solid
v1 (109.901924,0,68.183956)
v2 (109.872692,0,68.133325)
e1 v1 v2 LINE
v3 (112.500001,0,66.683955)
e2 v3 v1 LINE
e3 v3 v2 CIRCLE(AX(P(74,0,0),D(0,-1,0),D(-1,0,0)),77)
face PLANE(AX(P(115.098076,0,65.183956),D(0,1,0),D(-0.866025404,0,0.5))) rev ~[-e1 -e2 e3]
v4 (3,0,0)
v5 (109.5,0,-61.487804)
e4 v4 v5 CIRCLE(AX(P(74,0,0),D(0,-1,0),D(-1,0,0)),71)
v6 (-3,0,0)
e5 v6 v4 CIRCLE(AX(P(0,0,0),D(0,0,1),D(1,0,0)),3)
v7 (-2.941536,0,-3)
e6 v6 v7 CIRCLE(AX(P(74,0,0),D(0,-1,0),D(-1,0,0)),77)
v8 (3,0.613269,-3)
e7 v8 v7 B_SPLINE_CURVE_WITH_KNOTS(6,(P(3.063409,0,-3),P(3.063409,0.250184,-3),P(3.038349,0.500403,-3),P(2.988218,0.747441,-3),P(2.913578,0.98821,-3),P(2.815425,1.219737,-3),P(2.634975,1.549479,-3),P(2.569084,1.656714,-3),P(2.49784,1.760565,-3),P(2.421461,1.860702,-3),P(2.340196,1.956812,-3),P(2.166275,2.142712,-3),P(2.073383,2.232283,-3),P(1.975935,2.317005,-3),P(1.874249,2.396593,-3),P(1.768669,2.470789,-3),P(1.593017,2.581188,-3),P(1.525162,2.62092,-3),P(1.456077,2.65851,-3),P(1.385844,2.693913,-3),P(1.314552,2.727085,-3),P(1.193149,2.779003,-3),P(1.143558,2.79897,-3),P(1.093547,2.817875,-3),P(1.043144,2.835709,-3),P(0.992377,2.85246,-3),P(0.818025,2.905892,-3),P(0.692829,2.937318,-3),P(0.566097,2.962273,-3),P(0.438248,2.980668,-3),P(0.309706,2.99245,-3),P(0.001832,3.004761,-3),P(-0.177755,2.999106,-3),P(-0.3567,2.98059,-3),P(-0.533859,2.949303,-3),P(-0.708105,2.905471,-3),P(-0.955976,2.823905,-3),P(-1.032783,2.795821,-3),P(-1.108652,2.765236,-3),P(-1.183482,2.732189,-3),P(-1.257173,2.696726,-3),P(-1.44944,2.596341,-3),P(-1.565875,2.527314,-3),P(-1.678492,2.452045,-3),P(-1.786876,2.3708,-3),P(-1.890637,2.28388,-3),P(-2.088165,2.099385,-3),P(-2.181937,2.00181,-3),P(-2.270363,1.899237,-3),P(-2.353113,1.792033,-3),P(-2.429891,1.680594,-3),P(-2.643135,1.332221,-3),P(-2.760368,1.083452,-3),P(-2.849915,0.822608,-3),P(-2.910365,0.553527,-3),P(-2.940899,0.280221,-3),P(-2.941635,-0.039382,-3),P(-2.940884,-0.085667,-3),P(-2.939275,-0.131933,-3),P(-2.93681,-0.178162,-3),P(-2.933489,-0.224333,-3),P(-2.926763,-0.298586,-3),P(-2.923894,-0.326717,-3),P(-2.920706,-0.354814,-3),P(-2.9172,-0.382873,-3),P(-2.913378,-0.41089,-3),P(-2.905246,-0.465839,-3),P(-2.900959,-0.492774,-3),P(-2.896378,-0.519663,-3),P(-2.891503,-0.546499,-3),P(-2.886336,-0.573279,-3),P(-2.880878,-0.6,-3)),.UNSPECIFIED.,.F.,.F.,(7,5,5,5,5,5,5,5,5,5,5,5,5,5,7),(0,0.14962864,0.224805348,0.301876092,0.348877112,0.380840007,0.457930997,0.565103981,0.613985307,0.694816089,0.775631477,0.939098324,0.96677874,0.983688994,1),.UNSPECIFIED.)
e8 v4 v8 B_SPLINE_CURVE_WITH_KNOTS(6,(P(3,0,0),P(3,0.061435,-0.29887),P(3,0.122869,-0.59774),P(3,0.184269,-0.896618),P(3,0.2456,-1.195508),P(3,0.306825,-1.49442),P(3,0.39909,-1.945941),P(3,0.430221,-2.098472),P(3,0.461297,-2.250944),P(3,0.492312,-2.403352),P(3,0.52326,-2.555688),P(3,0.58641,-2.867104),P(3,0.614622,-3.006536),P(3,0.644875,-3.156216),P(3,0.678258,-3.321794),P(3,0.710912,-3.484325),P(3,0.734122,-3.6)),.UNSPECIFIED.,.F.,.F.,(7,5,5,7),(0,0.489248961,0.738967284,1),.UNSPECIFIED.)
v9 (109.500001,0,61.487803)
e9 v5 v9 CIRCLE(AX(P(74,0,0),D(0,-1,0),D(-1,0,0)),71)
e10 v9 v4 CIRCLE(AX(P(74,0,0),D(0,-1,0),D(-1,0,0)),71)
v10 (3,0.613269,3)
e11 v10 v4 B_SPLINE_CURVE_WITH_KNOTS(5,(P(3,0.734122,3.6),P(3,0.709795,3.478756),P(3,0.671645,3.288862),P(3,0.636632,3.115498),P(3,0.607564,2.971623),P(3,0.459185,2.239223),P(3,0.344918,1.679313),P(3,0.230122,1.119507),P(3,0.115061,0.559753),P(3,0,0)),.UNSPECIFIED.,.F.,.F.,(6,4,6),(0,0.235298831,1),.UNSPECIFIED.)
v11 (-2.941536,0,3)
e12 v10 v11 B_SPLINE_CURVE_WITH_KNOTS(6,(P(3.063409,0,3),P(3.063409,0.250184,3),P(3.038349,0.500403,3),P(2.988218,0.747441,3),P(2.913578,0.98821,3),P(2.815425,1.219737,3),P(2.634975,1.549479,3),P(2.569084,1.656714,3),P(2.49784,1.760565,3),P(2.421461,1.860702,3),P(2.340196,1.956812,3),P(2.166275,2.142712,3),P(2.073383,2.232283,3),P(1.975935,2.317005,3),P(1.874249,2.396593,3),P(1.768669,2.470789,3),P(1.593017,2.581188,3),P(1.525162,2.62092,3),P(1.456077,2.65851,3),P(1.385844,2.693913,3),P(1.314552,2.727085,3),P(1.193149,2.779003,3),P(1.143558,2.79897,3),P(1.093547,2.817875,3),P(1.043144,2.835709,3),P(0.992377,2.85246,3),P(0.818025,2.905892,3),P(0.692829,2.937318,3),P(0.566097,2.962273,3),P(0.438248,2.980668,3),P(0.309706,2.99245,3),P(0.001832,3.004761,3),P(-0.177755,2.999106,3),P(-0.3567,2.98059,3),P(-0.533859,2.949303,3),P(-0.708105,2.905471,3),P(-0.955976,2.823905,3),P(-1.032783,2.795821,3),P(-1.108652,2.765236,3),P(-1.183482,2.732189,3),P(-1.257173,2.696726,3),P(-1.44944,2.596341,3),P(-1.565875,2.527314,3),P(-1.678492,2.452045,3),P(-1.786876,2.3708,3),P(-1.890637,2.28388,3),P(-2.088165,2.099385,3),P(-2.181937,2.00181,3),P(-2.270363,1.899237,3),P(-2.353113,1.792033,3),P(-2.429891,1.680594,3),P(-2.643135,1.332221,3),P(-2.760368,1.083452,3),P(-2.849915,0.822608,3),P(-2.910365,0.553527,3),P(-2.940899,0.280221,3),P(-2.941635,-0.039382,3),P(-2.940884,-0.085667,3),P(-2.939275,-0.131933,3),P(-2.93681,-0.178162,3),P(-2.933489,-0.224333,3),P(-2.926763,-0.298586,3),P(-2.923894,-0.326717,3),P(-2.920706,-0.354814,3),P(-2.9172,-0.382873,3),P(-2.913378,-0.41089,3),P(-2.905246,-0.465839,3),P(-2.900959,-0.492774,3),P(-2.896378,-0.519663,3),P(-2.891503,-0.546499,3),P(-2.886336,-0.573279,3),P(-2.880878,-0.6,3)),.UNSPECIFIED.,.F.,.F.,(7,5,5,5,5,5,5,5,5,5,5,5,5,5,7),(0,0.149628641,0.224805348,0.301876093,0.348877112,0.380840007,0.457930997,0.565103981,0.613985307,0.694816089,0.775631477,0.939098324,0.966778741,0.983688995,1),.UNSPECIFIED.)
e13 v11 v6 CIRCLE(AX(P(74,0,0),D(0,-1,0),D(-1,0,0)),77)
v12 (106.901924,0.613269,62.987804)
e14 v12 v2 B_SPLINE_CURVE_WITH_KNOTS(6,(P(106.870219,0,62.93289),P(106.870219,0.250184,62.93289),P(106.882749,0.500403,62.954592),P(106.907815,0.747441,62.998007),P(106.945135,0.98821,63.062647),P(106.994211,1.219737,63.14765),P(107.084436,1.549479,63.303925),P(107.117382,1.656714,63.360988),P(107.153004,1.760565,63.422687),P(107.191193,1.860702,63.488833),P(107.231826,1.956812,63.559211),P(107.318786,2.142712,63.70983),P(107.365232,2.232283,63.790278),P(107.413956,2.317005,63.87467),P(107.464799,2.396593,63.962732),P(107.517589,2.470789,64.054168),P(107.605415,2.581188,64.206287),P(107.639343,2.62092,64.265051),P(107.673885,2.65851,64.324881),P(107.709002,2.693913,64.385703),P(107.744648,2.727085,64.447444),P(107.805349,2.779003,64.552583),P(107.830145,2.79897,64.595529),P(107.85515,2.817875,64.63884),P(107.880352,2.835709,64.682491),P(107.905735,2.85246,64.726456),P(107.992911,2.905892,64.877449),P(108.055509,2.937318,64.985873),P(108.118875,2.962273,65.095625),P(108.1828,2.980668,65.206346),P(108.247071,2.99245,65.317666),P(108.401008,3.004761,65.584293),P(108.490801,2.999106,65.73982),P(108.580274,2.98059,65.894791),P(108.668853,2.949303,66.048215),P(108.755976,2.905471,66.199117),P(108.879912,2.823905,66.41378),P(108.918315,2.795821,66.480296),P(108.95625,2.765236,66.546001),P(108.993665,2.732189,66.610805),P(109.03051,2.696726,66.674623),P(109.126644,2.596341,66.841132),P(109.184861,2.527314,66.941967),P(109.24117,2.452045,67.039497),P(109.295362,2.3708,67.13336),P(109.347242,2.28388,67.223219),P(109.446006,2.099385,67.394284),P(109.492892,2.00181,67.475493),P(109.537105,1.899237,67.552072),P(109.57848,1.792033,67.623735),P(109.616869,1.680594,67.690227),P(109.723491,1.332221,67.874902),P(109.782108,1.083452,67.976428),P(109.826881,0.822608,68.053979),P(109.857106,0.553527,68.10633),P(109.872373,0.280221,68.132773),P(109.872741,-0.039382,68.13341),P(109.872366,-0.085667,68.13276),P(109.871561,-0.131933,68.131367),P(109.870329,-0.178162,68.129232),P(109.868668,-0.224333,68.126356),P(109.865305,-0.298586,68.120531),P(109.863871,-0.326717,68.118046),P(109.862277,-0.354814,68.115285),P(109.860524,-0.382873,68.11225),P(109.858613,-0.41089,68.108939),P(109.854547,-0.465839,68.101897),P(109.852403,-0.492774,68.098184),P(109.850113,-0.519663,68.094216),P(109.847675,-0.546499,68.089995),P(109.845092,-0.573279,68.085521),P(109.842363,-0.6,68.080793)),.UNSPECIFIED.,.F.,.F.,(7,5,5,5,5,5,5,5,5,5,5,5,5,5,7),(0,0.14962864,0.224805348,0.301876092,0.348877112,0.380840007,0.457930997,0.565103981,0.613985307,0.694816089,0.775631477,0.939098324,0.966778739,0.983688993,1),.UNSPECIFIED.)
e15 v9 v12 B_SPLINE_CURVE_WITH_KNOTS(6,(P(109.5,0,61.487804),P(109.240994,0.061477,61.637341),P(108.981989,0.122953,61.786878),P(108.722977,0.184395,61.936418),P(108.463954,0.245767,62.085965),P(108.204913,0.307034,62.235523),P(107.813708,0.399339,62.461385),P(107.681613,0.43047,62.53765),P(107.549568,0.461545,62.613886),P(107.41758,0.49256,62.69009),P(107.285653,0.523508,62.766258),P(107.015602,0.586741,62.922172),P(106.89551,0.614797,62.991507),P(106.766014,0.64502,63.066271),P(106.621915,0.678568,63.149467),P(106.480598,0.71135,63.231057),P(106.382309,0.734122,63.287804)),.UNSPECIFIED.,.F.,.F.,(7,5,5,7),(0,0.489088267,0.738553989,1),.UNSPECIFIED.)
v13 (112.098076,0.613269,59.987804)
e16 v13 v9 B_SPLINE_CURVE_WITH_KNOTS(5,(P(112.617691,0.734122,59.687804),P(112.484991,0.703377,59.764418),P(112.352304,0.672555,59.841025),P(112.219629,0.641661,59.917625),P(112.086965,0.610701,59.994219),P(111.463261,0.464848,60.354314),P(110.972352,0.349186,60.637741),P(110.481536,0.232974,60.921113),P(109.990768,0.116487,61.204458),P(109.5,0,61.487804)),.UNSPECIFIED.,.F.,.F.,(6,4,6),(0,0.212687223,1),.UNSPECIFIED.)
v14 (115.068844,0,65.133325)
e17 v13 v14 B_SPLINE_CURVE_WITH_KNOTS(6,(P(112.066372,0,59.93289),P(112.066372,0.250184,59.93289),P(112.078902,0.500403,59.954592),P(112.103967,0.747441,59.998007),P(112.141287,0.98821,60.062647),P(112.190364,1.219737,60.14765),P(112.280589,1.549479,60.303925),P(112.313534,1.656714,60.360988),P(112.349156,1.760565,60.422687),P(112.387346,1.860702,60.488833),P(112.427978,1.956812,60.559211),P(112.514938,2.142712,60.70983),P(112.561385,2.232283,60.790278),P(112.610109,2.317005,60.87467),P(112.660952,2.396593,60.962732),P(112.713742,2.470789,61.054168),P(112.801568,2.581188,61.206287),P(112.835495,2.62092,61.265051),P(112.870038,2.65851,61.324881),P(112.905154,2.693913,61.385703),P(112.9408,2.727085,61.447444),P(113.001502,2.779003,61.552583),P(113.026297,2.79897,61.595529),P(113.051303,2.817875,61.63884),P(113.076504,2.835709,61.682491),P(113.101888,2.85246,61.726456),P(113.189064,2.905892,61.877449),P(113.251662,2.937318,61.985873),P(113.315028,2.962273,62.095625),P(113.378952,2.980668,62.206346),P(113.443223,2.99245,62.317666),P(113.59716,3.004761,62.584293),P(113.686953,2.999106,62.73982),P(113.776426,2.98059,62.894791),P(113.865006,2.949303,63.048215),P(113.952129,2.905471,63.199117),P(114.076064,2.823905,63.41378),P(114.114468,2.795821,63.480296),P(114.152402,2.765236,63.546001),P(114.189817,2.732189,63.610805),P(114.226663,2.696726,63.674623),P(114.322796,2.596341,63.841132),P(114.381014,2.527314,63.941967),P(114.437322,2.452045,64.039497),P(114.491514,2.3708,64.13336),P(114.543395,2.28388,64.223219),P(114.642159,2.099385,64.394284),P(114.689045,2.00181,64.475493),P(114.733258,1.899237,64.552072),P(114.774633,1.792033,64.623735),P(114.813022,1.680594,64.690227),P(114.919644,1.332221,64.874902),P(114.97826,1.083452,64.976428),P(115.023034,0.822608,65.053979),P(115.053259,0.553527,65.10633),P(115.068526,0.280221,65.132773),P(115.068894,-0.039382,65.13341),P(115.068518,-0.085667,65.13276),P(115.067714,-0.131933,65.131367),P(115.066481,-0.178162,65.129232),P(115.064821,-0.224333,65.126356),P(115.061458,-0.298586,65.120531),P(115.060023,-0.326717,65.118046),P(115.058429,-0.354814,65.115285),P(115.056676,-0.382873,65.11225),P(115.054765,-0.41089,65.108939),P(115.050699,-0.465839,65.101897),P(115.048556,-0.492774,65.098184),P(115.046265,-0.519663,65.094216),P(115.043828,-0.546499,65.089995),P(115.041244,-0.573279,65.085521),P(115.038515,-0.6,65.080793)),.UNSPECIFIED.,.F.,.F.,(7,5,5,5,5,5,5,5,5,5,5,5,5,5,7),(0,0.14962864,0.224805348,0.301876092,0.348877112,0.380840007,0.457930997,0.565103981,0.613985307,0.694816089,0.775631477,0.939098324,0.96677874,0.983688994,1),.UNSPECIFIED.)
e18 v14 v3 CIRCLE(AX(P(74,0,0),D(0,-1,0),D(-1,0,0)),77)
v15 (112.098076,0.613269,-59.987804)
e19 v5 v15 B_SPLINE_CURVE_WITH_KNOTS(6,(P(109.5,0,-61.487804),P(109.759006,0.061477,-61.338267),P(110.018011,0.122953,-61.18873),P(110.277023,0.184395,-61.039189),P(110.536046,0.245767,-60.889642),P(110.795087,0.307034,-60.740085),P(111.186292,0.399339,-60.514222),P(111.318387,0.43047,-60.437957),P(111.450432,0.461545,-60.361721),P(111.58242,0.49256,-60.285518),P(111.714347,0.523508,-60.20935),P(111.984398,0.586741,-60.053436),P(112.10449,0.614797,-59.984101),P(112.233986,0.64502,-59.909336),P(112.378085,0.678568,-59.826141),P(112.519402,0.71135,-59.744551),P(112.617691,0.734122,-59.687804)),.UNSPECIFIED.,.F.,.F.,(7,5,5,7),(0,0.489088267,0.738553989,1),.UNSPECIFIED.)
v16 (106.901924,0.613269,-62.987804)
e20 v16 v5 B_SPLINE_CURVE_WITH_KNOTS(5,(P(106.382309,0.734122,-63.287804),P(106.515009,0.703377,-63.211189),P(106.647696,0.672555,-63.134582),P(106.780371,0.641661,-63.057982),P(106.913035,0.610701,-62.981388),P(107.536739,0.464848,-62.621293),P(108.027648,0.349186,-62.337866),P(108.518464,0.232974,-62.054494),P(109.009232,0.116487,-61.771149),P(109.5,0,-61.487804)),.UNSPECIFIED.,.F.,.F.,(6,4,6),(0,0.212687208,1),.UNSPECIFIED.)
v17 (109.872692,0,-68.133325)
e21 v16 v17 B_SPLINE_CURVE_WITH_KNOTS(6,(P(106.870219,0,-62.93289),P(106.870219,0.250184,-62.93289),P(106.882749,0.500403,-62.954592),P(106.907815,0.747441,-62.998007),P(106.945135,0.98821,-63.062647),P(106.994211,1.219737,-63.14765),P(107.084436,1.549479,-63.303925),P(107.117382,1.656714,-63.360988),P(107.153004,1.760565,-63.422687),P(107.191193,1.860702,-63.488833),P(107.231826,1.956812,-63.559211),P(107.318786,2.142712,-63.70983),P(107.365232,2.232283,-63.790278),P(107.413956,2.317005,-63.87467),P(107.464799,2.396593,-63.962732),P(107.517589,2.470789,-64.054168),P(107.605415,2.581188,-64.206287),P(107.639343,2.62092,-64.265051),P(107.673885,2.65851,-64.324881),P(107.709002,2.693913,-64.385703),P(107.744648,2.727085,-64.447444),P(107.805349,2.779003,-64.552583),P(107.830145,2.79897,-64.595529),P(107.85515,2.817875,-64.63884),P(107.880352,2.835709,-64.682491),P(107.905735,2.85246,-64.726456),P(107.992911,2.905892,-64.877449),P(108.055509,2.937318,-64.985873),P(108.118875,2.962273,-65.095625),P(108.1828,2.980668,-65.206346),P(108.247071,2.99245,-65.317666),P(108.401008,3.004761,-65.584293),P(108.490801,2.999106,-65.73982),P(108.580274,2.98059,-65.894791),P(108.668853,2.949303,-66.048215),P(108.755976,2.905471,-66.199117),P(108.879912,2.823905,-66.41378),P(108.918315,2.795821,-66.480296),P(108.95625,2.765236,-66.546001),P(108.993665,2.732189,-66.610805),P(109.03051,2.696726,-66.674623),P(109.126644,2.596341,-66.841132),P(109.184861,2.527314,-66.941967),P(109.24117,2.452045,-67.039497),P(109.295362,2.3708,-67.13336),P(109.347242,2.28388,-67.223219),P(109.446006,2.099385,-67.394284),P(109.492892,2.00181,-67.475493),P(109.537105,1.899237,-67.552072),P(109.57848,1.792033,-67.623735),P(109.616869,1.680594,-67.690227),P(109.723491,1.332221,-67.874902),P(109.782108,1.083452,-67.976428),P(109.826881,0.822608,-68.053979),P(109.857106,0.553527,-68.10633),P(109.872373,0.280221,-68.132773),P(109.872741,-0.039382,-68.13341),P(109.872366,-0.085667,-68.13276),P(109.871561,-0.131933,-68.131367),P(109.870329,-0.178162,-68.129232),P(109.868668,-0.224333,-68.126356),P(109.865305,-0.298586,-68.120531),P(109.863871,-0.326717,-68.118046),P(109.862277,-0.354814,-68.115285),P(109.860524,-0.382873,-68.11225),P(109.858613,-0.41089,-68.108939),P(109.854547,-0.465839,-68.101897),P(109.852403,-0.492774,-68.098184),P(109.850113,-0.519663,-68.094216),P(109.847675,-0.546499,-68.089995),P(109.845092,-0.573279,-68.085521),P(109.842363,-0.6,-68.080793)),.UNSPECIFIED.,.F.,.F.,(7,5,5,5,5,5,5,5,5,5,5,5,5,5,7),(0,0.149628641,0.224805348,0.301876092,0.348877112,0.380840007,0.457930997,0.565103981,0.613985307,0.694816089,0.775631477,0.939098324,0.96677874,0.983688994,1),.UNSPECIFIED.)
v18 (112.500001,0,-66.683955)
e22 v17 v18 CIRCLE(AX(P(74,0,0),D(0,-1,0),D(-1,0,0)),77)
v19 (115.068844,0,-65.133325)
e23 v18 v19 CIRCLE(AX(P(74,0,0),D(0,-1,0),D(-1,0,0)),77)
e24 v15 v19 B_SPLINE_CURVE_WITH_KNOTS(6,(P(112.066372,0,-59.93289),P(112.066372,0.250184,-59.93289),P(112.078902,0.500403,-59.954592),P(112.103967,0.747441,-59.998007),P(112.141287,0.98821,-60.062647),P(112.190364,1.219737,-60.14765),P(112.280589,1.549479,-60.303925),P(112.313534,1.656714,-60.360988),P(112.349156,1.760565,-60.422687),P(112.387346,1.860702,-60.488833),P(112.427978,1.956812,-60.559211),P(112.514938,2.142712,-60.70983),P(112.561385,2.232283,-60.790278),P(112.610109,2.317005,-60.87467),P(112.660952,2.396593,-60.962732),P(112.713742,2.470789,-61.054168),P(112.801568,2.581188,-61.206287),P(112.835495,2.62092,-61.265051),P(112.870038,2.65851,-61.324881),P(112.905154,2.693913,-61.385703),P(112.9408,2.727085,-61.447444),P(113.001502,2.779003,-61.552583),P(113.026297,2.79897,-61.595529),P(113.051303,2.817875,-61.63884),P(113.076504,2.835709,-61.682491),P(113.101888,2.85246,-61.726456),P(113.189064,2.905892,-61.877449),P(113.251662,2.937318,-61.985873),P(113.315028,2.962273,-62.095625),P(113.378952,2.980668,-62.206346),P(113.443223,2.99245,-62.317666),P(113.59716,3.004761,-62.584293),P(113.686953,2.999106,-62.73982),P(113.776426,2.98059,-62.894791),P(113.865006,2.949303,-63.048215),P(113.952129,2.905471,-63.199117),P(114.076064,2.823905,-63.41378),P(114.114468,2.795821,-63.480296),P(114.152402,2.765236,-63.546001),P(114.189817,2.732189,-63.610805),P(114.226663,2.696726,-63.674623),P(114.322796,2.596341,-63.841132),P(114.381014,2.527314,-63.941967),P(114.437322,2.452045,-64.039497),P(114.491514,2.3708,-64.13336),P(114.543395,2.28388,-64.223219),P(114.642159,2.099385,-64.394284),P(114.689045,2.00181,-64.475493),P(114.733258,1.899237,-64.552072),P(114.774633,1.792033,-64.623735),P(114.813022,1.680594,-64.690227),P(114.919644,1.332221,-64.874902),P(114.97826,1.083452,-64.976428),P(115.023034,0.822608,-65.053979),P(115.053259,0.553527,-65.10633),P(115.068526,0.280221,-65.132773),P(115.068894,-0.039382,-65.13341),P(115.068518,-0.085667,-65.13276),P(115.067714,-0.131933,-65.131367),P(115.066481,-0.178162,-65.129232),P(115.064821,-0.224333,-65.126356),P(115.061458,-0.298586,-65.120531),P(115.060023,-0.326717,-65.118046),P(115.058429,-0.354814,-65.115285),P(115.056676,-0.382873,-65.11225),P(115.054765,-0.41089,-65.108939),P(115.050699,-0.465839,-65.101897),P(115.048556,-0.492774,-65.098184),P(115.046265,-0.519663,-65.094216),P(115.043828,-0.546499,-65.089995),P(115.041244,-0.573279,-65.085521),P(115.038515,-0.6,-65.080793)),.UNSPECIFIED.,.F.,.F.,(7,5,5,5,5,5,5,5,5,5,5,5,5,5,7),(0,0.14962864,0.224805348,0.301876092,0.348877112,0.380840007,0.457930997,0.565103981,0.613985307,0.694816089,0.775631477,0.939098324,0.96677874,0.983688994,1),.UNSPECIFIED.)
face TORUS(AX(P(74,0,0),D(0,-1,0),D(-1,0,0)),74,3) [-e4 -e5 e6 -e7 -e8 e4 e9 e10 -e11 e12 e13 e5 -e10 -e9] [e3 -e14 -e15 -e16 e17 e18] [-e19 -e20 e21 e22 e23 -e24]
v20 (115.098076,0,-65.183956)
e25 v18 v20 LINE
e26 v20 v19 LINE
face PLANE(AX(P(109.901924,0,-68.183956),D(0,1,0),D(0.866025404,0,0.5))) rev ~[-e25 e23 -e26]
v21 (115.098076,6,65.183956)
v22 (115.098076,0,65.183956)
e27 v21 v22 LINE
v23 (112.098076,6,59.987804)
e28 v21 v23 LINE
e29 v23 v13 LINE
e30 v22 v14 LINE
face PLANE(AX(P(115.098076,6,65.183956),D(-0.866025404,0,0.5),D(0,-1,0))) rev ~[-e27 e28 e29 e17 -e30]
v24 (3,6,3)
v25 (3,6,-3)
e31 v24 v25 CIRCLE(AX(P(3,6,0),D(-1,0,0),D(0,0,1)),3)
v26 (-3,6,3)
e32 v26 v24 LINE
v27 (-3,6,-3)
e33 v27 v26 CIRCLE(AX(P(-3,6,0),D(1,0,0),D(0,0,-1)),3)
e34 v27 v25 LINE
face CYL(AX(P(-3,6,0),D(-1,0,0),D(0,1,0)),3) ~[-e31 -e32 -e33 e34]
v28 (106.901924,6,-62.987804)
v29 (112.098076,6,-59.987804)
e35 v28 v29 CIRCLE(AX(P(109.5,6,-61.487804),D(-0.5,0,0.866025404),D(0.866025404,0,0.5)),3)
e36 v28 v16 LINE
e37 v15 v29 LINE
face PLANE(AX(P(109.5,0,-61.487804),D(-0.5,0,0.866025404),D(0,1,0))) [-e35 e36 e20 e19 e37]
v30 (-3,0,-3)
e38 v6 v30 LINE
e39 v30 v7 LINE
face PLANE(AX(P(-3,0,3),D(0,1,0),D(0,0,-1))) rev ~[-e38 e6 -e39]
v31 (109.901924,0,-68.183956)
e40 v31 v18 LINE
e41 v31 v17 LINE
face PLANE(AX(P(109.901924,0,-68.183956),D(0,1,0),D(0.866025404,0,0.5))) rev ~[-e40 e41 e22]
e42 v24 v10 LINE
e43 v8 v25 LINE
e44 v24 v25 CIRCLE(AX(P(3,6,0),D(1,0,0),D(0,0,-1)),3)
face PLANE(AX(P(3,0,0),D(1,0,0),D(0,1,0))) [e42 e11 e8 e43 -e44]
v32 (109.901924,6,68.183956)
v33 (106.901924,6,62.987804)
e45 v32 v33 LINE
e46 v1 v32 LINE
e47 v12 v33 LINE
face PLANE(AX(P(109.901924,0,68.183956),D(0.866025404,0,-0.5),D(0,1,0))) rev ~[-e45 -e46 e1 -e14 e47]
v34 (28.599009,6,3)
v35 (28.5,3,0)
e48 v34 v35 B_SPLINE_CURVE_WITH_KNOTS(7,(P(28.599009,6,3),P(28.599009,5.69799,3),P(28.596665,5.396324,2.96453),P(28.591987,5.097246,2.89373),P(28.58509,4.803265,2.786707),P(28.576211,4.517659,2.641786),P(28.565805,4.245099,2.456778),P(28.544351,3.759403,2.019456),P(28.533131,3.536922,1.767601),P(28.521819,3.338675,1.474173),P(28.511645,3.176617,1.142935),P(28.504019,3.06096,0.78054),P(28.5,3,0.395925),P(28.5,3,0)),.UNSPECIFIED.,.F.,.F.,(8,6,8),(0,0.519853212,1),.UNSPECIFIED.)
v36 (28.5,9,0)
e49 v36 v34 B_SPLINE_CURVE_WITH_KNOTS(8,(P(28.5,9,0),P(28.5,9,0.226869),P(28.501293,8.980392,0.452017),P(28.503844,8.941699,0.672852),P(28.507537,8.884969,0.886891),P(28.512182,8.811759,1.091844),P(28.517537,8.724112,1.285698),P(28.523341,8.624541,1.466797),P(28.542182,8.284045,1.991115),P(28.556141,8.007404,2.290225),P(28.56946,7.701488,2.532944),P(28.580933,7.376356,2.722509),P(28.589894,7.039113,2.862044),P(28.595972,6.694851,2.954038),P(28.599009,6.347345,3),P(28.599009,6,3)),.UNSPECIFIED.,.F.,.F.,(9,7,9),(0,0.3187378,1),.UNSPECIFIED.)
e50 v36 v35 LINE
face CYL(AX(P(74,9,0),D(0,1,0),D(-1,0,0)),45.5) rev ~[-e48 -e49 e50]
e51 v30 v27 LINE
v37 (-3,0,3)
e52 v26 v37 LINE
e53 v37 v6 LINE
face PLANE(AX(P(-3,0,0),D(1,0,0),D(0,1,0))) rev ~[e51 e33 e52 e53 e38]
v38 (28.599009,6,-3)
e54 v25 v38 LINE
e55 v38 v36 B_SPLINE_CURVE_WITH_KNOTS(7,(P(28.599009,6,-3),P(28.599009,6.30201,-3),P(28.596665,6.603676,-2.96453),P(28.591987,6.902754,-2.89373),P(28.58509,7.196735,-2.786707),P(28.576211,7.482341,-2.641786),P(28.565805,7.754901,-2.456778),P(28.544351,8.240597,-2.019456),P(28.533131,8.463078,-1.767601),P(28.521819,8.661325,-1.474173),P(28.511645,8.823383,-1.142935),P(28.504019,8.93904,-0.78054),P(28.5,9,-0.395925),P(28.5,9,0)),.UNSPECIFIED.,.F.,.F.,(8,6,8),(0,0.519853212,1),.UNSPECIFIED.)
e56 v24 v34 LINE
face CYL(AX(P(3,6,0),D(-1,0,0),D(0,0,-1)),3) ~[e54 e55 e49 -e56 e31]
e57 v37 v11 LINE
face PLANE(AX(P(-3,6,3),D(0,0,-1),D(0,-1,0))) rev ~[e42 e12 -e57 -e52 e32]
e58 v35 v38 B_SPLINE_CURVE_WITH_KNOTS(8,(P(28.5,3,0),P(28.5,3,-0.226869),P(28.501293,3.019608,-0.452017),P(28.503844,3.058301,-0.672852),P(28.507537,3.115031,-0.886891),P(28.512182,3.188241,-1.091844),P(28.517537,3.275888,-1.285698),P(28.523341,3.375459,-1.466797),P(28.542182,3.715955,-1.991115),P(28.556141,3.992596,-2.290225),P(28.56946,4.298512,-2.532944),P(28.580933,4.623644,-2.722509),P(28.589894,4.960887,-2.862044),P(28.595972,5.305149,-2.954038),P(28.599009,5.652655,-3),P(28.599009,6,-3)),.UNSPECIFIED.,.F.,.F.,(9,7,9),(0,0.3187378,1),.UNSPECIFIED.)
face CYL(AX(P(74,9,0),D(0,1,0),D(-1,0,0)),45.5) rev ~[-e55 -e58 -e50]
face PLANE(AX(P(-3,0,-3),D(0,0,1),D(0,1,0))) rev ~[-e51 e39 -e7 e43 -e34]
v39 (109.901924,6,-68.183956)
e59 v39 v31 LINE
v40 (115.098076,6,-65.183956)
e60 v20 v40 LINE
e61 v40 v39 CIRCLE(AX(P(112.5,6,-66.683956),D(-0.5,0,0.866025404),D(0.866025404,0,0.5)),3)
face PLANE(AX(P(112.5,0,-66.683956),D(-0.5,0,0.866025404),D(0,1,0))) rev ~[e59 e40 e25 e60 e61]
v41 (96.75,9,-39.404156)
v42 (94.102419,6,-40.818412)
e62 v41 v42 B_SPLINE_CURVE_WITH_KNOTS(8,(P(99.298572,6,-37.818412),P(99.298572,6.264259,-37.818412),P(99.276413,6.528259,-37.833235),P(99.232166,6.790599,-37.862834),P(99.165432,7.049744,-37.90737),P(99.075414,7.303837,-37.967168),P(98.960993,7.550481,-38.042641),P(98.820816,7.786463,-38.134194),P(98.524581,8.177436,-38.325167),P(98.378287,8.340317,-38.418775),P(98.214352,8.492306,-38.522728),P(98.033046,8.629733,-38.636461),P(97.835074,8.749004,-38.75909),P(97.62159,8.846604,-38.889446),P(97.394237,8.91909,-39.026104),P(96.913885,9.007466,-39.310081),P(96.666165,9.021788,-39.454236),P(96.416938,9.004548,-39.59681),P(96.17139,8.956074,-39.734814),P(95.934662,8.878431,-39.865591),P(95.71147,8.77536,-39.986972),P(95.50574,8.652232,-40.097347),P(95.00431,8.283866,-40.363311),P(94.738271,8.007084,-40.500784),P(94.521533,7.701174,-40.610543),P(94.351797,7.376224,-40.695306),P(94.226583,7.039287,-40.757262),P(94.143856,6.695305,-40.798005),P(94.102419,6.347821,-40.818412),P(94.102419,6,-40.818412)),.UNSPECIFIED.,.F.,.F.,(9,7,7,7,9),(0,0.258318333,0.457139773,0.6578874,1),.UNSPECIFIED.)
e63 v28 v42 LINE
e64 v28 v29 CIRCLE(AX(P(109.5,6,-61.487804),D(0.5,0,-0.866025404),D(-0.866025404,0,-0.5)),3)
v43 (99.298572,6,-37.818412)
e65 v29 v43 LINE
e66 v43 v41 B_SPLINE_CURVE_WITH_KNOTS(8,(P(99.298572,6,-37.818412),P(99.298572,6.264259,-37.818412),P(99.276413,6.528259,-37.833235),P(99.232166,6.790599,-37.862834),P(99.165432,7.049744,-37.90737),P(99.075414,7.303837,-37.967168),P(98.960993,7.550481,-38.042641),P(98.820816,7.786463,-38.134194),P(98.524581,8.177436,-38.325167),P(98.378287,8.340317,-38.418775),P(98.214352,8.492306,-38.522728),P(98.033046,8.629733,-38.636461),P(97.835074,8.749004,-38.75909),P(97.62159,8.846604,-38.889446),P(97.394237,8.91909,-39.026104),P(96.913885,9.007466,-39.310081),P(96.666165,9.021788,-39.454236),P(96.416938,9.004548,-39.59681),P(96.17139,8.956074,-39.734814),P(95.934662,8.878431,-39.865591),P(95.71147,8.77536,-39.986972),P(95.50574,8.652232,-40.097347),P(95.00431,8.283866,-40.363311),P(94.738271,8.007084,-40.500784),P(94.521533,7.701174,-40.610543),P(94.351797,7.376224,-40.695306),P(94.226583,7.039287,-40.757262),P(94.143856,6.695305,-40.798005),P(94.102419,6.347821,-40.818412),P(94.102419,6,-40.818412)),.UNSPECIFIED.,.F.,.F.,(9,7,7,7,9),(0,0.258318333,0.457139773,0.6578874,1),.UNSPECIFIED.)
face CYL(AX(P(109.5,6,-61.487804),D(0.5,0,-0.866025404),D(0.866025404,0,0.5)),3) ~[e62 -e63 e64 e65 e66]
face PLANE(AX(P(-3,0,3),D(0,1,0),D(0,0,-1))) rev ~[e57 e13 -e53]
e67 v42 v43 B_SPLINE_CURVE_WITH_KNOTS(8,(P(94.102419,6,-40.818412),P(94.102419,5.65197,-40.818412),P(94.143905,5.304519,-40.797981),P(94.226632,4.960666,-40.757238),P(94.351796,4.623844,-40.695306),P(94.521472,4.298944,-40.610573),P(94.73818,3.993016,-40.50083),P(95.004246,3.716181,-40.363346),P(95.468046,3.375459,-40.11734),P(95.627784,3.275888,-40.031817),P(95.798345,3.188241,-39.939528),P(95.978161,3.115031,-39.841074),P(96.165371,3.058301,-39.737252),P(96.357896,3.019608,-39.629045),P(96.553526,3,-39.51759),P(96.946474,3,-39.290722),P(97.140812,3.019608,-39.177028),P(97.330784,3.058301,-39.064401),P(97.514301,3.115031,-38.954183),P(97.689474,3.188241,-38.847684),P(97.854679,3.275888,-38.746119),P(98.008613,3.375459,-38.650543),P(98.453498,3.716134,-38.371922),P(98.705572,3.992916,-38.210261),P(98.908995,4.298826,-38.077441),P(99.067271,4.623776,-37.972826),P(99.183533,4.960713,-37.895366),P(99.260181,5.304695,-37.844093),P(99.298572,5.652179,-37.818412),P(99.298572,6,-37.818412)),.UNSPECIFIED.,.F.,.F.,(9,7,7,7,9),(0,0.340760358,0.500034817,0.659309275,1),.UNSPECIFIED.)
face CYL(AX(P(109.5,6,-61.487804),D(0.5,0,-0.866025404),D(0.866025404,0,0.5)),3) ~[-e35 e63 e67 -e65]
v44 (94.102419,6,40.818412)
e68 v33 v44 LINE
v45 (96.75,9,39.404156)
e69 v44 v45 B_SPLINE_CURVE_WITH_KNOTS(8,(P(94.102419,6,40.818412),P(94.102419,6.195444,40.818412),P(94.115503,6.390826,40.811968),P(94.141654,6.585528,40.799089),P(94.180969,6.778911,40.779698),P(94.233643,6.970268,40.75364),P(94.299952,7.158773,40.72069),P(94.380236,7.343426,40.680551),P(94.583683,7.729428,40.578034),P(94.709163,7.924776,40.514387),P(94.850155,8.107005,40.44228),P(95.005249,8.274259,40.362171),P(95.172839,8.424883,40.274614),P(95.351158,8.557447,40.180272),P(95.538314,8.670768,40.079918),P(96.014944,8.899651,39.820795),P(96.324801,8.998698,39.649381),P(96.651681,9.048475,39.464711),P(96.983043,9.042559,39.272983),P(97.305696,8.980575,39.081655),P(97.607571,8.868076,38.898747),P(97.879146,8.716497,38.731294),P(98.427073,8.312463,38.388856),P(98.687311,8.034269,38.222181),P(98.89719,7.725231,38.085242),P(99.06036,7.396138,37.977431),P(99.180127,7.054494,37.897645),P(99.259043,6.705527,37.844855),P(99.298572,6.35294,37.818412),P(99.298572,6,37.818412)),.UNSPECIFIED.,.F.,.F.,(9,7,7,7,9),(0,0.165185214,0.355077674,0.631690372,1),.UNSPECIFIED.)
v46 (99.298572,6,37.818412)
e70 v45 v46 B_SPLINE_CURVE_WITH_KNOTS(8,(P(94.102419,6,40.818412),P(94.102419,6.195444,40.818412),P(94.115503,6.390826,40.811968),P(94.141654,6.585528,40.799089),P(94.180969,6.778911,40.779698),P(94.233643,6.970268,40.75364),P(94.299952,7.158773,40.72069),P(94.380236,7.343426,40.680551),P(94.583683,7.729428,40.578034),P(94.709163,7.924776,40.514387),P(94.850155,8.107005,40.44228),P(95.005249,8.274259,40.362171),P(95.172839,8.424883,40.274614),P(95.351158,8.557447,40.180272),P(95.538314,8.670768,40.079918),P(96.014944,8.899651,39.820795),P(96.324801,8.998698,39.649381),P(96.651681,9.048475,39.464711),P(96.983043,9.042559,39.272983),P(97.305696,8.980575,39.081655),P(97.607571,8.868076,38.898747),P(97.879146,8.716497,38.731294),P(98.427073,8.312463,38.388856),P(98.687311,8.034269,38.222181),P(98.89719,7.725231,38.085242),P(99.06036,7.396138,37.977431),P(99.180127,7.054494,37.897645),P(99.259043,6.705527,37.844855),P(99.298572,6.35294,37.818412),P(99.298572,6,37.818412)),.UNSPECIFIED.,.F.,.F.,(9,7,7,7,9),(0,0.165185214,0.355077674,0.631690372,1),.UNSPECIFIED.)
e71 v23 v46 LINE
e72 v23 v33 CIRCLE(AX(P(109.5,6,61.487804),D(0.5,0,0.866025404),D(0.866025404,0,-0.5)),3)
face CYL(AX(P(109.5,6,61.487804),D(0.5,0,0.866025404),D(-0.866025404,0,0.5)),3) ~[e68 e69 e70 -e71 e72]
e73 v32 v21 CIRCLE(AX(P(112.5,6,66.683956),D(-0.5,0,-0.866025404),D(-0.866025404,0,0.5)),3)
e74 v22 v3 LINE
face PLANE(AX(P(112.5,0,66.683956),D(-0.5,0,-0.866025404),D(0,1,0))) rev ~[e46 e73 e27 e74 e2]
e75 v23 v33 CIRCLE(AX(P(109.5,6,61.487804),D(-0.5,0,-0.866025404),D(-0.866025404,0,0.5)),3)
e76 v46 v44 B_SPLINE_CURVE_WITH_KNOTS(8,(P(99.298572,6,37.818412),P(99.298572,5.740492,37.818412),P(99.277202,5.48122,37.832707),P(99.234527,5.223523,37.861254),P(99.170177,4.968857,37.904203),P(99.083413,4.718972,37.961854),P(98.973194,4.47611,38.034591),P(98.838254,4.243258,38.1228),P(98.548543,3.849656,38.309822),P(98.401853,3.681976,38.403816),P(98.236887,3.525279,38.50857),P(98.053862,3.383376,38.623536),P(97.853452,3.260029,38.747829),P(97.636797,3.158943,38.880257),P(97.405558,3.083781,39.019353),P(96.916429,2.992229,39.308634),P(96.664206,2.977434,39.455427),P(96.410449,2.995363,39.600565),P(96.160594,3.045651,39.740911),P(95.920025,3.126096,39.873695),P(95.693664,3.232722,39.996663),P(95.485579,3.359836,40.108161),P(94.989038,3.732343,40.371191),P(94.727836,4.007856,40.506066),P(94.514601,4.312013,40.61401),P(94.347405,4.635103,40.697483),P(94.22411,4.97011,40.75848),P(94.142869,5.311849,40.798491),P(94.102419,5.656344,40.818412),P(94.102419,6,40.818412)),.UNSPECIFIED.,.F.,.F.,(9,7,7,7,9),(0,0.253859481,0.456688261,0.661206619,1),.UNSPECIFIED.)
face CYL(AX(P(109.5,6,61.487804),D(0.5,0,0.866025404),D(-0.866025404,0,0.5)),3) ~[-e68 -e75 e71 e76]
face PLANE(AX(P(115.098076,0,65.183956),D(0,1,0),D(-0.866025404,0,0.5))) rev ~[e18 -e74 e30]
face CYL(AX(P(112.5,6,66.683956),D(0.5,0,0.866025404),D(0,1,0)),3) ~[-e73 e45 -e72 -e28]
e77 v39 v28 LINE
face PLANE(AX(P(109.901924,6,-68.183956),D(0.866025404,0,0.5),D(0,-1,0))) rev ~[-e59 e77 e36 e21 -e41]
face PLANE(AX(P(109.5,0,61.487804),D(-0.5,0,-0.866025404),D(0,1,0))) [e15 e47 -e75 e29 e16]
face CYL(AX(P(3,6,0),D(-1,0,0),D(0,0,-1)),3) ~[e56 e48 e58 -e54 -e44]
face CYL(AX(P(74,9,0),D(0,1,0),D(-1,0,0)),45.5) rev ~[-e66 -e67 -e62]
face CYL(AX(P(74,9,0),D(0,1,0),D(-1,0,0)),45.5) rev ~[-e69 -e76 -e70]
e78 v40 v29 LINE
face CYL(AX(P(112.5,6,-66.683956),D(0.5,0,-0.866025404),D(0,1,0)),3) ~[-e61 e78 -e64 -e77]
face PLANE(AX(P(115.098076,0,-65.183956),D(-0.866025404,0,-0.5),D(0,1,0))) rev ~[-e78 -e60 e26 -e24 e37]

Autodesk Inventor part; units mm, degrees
ref_plane "XY Plane" through (0, 0, 0) normal (0, 0, 1) x (1, 0, 0)
sketch "Sketch1" plane through (0, 0, 0) normal (0, 0, 1) x (1, 0, 0)
  circle A0 centre (0, 0) radius 3
  line L0 (74, 5) -> (74, -5) construction
  point P0 (74, 0)
  dimension "d0" = 6
  dimension "d1" = 148
  dimension "d2" = 10
revolve "Revolution1" add sketch "Sketch1" angle 360 about axis through (74, 5, 0) along (0, -1, 0)
ref_plane "Work Plane1" through (-3, 0, 0) normal (1, 0, 0) x (0, 1, 0)
sketch "Sketch2" plane through (-3, 0, 0) normal (1, 0, 0) x (0, 1, 0)
  circle A0 centre (6, 0) radius 3
  line L0 (6, 3) -> (0, 3)
  line L1 (0, 3) -> (0, -3)
  line L2 (0, -3) -> (6, -3)
  point P0 (0, 0)
  dimension "d5" = 6
  dimension "d6" = 6
  dimension "d7" = 6
  dimension "d8" = 6
extrude "Extrusion1" add sketch "Sketch2" along normal blind 6
sketch "Sketch3" plane through (3, 0, 0) normal (1, 0, 0) x (0, 0, -1)
  arc A0 (3, 6) -> (-3, 6) centre (0, 6) ccw projected
  circle A1 centre (0, 6) radius 3
  dimension "d11" = 6
extrude "Extrusion2" add sketch "Sketch3" along normal blind 26
pattern_circular "Circular Pattern1" count 3 over 360 about axis through (74, 0, 0) along (0, 1, 0) of "Extrusion1", "Extrusion2"
ref_plane "Work Plane2" through (0, 9, 0) normal (0, 1, 0) x (-1, 0, 0)
sketch "Sketch4" plane through (0, 9, 0) normal (0, 1, 0) x (-1, 0, 0)
  circle A0 centre (-74, 0) radius 45.5
  point P0 (0, 0)
  dimension "d18" = 91
  dimension "d19" = 74
extrude "Extrusion3" cut sketch "Sketch4" against normal blind 26
properties part number "Kern" material "Silicon Nitride"
